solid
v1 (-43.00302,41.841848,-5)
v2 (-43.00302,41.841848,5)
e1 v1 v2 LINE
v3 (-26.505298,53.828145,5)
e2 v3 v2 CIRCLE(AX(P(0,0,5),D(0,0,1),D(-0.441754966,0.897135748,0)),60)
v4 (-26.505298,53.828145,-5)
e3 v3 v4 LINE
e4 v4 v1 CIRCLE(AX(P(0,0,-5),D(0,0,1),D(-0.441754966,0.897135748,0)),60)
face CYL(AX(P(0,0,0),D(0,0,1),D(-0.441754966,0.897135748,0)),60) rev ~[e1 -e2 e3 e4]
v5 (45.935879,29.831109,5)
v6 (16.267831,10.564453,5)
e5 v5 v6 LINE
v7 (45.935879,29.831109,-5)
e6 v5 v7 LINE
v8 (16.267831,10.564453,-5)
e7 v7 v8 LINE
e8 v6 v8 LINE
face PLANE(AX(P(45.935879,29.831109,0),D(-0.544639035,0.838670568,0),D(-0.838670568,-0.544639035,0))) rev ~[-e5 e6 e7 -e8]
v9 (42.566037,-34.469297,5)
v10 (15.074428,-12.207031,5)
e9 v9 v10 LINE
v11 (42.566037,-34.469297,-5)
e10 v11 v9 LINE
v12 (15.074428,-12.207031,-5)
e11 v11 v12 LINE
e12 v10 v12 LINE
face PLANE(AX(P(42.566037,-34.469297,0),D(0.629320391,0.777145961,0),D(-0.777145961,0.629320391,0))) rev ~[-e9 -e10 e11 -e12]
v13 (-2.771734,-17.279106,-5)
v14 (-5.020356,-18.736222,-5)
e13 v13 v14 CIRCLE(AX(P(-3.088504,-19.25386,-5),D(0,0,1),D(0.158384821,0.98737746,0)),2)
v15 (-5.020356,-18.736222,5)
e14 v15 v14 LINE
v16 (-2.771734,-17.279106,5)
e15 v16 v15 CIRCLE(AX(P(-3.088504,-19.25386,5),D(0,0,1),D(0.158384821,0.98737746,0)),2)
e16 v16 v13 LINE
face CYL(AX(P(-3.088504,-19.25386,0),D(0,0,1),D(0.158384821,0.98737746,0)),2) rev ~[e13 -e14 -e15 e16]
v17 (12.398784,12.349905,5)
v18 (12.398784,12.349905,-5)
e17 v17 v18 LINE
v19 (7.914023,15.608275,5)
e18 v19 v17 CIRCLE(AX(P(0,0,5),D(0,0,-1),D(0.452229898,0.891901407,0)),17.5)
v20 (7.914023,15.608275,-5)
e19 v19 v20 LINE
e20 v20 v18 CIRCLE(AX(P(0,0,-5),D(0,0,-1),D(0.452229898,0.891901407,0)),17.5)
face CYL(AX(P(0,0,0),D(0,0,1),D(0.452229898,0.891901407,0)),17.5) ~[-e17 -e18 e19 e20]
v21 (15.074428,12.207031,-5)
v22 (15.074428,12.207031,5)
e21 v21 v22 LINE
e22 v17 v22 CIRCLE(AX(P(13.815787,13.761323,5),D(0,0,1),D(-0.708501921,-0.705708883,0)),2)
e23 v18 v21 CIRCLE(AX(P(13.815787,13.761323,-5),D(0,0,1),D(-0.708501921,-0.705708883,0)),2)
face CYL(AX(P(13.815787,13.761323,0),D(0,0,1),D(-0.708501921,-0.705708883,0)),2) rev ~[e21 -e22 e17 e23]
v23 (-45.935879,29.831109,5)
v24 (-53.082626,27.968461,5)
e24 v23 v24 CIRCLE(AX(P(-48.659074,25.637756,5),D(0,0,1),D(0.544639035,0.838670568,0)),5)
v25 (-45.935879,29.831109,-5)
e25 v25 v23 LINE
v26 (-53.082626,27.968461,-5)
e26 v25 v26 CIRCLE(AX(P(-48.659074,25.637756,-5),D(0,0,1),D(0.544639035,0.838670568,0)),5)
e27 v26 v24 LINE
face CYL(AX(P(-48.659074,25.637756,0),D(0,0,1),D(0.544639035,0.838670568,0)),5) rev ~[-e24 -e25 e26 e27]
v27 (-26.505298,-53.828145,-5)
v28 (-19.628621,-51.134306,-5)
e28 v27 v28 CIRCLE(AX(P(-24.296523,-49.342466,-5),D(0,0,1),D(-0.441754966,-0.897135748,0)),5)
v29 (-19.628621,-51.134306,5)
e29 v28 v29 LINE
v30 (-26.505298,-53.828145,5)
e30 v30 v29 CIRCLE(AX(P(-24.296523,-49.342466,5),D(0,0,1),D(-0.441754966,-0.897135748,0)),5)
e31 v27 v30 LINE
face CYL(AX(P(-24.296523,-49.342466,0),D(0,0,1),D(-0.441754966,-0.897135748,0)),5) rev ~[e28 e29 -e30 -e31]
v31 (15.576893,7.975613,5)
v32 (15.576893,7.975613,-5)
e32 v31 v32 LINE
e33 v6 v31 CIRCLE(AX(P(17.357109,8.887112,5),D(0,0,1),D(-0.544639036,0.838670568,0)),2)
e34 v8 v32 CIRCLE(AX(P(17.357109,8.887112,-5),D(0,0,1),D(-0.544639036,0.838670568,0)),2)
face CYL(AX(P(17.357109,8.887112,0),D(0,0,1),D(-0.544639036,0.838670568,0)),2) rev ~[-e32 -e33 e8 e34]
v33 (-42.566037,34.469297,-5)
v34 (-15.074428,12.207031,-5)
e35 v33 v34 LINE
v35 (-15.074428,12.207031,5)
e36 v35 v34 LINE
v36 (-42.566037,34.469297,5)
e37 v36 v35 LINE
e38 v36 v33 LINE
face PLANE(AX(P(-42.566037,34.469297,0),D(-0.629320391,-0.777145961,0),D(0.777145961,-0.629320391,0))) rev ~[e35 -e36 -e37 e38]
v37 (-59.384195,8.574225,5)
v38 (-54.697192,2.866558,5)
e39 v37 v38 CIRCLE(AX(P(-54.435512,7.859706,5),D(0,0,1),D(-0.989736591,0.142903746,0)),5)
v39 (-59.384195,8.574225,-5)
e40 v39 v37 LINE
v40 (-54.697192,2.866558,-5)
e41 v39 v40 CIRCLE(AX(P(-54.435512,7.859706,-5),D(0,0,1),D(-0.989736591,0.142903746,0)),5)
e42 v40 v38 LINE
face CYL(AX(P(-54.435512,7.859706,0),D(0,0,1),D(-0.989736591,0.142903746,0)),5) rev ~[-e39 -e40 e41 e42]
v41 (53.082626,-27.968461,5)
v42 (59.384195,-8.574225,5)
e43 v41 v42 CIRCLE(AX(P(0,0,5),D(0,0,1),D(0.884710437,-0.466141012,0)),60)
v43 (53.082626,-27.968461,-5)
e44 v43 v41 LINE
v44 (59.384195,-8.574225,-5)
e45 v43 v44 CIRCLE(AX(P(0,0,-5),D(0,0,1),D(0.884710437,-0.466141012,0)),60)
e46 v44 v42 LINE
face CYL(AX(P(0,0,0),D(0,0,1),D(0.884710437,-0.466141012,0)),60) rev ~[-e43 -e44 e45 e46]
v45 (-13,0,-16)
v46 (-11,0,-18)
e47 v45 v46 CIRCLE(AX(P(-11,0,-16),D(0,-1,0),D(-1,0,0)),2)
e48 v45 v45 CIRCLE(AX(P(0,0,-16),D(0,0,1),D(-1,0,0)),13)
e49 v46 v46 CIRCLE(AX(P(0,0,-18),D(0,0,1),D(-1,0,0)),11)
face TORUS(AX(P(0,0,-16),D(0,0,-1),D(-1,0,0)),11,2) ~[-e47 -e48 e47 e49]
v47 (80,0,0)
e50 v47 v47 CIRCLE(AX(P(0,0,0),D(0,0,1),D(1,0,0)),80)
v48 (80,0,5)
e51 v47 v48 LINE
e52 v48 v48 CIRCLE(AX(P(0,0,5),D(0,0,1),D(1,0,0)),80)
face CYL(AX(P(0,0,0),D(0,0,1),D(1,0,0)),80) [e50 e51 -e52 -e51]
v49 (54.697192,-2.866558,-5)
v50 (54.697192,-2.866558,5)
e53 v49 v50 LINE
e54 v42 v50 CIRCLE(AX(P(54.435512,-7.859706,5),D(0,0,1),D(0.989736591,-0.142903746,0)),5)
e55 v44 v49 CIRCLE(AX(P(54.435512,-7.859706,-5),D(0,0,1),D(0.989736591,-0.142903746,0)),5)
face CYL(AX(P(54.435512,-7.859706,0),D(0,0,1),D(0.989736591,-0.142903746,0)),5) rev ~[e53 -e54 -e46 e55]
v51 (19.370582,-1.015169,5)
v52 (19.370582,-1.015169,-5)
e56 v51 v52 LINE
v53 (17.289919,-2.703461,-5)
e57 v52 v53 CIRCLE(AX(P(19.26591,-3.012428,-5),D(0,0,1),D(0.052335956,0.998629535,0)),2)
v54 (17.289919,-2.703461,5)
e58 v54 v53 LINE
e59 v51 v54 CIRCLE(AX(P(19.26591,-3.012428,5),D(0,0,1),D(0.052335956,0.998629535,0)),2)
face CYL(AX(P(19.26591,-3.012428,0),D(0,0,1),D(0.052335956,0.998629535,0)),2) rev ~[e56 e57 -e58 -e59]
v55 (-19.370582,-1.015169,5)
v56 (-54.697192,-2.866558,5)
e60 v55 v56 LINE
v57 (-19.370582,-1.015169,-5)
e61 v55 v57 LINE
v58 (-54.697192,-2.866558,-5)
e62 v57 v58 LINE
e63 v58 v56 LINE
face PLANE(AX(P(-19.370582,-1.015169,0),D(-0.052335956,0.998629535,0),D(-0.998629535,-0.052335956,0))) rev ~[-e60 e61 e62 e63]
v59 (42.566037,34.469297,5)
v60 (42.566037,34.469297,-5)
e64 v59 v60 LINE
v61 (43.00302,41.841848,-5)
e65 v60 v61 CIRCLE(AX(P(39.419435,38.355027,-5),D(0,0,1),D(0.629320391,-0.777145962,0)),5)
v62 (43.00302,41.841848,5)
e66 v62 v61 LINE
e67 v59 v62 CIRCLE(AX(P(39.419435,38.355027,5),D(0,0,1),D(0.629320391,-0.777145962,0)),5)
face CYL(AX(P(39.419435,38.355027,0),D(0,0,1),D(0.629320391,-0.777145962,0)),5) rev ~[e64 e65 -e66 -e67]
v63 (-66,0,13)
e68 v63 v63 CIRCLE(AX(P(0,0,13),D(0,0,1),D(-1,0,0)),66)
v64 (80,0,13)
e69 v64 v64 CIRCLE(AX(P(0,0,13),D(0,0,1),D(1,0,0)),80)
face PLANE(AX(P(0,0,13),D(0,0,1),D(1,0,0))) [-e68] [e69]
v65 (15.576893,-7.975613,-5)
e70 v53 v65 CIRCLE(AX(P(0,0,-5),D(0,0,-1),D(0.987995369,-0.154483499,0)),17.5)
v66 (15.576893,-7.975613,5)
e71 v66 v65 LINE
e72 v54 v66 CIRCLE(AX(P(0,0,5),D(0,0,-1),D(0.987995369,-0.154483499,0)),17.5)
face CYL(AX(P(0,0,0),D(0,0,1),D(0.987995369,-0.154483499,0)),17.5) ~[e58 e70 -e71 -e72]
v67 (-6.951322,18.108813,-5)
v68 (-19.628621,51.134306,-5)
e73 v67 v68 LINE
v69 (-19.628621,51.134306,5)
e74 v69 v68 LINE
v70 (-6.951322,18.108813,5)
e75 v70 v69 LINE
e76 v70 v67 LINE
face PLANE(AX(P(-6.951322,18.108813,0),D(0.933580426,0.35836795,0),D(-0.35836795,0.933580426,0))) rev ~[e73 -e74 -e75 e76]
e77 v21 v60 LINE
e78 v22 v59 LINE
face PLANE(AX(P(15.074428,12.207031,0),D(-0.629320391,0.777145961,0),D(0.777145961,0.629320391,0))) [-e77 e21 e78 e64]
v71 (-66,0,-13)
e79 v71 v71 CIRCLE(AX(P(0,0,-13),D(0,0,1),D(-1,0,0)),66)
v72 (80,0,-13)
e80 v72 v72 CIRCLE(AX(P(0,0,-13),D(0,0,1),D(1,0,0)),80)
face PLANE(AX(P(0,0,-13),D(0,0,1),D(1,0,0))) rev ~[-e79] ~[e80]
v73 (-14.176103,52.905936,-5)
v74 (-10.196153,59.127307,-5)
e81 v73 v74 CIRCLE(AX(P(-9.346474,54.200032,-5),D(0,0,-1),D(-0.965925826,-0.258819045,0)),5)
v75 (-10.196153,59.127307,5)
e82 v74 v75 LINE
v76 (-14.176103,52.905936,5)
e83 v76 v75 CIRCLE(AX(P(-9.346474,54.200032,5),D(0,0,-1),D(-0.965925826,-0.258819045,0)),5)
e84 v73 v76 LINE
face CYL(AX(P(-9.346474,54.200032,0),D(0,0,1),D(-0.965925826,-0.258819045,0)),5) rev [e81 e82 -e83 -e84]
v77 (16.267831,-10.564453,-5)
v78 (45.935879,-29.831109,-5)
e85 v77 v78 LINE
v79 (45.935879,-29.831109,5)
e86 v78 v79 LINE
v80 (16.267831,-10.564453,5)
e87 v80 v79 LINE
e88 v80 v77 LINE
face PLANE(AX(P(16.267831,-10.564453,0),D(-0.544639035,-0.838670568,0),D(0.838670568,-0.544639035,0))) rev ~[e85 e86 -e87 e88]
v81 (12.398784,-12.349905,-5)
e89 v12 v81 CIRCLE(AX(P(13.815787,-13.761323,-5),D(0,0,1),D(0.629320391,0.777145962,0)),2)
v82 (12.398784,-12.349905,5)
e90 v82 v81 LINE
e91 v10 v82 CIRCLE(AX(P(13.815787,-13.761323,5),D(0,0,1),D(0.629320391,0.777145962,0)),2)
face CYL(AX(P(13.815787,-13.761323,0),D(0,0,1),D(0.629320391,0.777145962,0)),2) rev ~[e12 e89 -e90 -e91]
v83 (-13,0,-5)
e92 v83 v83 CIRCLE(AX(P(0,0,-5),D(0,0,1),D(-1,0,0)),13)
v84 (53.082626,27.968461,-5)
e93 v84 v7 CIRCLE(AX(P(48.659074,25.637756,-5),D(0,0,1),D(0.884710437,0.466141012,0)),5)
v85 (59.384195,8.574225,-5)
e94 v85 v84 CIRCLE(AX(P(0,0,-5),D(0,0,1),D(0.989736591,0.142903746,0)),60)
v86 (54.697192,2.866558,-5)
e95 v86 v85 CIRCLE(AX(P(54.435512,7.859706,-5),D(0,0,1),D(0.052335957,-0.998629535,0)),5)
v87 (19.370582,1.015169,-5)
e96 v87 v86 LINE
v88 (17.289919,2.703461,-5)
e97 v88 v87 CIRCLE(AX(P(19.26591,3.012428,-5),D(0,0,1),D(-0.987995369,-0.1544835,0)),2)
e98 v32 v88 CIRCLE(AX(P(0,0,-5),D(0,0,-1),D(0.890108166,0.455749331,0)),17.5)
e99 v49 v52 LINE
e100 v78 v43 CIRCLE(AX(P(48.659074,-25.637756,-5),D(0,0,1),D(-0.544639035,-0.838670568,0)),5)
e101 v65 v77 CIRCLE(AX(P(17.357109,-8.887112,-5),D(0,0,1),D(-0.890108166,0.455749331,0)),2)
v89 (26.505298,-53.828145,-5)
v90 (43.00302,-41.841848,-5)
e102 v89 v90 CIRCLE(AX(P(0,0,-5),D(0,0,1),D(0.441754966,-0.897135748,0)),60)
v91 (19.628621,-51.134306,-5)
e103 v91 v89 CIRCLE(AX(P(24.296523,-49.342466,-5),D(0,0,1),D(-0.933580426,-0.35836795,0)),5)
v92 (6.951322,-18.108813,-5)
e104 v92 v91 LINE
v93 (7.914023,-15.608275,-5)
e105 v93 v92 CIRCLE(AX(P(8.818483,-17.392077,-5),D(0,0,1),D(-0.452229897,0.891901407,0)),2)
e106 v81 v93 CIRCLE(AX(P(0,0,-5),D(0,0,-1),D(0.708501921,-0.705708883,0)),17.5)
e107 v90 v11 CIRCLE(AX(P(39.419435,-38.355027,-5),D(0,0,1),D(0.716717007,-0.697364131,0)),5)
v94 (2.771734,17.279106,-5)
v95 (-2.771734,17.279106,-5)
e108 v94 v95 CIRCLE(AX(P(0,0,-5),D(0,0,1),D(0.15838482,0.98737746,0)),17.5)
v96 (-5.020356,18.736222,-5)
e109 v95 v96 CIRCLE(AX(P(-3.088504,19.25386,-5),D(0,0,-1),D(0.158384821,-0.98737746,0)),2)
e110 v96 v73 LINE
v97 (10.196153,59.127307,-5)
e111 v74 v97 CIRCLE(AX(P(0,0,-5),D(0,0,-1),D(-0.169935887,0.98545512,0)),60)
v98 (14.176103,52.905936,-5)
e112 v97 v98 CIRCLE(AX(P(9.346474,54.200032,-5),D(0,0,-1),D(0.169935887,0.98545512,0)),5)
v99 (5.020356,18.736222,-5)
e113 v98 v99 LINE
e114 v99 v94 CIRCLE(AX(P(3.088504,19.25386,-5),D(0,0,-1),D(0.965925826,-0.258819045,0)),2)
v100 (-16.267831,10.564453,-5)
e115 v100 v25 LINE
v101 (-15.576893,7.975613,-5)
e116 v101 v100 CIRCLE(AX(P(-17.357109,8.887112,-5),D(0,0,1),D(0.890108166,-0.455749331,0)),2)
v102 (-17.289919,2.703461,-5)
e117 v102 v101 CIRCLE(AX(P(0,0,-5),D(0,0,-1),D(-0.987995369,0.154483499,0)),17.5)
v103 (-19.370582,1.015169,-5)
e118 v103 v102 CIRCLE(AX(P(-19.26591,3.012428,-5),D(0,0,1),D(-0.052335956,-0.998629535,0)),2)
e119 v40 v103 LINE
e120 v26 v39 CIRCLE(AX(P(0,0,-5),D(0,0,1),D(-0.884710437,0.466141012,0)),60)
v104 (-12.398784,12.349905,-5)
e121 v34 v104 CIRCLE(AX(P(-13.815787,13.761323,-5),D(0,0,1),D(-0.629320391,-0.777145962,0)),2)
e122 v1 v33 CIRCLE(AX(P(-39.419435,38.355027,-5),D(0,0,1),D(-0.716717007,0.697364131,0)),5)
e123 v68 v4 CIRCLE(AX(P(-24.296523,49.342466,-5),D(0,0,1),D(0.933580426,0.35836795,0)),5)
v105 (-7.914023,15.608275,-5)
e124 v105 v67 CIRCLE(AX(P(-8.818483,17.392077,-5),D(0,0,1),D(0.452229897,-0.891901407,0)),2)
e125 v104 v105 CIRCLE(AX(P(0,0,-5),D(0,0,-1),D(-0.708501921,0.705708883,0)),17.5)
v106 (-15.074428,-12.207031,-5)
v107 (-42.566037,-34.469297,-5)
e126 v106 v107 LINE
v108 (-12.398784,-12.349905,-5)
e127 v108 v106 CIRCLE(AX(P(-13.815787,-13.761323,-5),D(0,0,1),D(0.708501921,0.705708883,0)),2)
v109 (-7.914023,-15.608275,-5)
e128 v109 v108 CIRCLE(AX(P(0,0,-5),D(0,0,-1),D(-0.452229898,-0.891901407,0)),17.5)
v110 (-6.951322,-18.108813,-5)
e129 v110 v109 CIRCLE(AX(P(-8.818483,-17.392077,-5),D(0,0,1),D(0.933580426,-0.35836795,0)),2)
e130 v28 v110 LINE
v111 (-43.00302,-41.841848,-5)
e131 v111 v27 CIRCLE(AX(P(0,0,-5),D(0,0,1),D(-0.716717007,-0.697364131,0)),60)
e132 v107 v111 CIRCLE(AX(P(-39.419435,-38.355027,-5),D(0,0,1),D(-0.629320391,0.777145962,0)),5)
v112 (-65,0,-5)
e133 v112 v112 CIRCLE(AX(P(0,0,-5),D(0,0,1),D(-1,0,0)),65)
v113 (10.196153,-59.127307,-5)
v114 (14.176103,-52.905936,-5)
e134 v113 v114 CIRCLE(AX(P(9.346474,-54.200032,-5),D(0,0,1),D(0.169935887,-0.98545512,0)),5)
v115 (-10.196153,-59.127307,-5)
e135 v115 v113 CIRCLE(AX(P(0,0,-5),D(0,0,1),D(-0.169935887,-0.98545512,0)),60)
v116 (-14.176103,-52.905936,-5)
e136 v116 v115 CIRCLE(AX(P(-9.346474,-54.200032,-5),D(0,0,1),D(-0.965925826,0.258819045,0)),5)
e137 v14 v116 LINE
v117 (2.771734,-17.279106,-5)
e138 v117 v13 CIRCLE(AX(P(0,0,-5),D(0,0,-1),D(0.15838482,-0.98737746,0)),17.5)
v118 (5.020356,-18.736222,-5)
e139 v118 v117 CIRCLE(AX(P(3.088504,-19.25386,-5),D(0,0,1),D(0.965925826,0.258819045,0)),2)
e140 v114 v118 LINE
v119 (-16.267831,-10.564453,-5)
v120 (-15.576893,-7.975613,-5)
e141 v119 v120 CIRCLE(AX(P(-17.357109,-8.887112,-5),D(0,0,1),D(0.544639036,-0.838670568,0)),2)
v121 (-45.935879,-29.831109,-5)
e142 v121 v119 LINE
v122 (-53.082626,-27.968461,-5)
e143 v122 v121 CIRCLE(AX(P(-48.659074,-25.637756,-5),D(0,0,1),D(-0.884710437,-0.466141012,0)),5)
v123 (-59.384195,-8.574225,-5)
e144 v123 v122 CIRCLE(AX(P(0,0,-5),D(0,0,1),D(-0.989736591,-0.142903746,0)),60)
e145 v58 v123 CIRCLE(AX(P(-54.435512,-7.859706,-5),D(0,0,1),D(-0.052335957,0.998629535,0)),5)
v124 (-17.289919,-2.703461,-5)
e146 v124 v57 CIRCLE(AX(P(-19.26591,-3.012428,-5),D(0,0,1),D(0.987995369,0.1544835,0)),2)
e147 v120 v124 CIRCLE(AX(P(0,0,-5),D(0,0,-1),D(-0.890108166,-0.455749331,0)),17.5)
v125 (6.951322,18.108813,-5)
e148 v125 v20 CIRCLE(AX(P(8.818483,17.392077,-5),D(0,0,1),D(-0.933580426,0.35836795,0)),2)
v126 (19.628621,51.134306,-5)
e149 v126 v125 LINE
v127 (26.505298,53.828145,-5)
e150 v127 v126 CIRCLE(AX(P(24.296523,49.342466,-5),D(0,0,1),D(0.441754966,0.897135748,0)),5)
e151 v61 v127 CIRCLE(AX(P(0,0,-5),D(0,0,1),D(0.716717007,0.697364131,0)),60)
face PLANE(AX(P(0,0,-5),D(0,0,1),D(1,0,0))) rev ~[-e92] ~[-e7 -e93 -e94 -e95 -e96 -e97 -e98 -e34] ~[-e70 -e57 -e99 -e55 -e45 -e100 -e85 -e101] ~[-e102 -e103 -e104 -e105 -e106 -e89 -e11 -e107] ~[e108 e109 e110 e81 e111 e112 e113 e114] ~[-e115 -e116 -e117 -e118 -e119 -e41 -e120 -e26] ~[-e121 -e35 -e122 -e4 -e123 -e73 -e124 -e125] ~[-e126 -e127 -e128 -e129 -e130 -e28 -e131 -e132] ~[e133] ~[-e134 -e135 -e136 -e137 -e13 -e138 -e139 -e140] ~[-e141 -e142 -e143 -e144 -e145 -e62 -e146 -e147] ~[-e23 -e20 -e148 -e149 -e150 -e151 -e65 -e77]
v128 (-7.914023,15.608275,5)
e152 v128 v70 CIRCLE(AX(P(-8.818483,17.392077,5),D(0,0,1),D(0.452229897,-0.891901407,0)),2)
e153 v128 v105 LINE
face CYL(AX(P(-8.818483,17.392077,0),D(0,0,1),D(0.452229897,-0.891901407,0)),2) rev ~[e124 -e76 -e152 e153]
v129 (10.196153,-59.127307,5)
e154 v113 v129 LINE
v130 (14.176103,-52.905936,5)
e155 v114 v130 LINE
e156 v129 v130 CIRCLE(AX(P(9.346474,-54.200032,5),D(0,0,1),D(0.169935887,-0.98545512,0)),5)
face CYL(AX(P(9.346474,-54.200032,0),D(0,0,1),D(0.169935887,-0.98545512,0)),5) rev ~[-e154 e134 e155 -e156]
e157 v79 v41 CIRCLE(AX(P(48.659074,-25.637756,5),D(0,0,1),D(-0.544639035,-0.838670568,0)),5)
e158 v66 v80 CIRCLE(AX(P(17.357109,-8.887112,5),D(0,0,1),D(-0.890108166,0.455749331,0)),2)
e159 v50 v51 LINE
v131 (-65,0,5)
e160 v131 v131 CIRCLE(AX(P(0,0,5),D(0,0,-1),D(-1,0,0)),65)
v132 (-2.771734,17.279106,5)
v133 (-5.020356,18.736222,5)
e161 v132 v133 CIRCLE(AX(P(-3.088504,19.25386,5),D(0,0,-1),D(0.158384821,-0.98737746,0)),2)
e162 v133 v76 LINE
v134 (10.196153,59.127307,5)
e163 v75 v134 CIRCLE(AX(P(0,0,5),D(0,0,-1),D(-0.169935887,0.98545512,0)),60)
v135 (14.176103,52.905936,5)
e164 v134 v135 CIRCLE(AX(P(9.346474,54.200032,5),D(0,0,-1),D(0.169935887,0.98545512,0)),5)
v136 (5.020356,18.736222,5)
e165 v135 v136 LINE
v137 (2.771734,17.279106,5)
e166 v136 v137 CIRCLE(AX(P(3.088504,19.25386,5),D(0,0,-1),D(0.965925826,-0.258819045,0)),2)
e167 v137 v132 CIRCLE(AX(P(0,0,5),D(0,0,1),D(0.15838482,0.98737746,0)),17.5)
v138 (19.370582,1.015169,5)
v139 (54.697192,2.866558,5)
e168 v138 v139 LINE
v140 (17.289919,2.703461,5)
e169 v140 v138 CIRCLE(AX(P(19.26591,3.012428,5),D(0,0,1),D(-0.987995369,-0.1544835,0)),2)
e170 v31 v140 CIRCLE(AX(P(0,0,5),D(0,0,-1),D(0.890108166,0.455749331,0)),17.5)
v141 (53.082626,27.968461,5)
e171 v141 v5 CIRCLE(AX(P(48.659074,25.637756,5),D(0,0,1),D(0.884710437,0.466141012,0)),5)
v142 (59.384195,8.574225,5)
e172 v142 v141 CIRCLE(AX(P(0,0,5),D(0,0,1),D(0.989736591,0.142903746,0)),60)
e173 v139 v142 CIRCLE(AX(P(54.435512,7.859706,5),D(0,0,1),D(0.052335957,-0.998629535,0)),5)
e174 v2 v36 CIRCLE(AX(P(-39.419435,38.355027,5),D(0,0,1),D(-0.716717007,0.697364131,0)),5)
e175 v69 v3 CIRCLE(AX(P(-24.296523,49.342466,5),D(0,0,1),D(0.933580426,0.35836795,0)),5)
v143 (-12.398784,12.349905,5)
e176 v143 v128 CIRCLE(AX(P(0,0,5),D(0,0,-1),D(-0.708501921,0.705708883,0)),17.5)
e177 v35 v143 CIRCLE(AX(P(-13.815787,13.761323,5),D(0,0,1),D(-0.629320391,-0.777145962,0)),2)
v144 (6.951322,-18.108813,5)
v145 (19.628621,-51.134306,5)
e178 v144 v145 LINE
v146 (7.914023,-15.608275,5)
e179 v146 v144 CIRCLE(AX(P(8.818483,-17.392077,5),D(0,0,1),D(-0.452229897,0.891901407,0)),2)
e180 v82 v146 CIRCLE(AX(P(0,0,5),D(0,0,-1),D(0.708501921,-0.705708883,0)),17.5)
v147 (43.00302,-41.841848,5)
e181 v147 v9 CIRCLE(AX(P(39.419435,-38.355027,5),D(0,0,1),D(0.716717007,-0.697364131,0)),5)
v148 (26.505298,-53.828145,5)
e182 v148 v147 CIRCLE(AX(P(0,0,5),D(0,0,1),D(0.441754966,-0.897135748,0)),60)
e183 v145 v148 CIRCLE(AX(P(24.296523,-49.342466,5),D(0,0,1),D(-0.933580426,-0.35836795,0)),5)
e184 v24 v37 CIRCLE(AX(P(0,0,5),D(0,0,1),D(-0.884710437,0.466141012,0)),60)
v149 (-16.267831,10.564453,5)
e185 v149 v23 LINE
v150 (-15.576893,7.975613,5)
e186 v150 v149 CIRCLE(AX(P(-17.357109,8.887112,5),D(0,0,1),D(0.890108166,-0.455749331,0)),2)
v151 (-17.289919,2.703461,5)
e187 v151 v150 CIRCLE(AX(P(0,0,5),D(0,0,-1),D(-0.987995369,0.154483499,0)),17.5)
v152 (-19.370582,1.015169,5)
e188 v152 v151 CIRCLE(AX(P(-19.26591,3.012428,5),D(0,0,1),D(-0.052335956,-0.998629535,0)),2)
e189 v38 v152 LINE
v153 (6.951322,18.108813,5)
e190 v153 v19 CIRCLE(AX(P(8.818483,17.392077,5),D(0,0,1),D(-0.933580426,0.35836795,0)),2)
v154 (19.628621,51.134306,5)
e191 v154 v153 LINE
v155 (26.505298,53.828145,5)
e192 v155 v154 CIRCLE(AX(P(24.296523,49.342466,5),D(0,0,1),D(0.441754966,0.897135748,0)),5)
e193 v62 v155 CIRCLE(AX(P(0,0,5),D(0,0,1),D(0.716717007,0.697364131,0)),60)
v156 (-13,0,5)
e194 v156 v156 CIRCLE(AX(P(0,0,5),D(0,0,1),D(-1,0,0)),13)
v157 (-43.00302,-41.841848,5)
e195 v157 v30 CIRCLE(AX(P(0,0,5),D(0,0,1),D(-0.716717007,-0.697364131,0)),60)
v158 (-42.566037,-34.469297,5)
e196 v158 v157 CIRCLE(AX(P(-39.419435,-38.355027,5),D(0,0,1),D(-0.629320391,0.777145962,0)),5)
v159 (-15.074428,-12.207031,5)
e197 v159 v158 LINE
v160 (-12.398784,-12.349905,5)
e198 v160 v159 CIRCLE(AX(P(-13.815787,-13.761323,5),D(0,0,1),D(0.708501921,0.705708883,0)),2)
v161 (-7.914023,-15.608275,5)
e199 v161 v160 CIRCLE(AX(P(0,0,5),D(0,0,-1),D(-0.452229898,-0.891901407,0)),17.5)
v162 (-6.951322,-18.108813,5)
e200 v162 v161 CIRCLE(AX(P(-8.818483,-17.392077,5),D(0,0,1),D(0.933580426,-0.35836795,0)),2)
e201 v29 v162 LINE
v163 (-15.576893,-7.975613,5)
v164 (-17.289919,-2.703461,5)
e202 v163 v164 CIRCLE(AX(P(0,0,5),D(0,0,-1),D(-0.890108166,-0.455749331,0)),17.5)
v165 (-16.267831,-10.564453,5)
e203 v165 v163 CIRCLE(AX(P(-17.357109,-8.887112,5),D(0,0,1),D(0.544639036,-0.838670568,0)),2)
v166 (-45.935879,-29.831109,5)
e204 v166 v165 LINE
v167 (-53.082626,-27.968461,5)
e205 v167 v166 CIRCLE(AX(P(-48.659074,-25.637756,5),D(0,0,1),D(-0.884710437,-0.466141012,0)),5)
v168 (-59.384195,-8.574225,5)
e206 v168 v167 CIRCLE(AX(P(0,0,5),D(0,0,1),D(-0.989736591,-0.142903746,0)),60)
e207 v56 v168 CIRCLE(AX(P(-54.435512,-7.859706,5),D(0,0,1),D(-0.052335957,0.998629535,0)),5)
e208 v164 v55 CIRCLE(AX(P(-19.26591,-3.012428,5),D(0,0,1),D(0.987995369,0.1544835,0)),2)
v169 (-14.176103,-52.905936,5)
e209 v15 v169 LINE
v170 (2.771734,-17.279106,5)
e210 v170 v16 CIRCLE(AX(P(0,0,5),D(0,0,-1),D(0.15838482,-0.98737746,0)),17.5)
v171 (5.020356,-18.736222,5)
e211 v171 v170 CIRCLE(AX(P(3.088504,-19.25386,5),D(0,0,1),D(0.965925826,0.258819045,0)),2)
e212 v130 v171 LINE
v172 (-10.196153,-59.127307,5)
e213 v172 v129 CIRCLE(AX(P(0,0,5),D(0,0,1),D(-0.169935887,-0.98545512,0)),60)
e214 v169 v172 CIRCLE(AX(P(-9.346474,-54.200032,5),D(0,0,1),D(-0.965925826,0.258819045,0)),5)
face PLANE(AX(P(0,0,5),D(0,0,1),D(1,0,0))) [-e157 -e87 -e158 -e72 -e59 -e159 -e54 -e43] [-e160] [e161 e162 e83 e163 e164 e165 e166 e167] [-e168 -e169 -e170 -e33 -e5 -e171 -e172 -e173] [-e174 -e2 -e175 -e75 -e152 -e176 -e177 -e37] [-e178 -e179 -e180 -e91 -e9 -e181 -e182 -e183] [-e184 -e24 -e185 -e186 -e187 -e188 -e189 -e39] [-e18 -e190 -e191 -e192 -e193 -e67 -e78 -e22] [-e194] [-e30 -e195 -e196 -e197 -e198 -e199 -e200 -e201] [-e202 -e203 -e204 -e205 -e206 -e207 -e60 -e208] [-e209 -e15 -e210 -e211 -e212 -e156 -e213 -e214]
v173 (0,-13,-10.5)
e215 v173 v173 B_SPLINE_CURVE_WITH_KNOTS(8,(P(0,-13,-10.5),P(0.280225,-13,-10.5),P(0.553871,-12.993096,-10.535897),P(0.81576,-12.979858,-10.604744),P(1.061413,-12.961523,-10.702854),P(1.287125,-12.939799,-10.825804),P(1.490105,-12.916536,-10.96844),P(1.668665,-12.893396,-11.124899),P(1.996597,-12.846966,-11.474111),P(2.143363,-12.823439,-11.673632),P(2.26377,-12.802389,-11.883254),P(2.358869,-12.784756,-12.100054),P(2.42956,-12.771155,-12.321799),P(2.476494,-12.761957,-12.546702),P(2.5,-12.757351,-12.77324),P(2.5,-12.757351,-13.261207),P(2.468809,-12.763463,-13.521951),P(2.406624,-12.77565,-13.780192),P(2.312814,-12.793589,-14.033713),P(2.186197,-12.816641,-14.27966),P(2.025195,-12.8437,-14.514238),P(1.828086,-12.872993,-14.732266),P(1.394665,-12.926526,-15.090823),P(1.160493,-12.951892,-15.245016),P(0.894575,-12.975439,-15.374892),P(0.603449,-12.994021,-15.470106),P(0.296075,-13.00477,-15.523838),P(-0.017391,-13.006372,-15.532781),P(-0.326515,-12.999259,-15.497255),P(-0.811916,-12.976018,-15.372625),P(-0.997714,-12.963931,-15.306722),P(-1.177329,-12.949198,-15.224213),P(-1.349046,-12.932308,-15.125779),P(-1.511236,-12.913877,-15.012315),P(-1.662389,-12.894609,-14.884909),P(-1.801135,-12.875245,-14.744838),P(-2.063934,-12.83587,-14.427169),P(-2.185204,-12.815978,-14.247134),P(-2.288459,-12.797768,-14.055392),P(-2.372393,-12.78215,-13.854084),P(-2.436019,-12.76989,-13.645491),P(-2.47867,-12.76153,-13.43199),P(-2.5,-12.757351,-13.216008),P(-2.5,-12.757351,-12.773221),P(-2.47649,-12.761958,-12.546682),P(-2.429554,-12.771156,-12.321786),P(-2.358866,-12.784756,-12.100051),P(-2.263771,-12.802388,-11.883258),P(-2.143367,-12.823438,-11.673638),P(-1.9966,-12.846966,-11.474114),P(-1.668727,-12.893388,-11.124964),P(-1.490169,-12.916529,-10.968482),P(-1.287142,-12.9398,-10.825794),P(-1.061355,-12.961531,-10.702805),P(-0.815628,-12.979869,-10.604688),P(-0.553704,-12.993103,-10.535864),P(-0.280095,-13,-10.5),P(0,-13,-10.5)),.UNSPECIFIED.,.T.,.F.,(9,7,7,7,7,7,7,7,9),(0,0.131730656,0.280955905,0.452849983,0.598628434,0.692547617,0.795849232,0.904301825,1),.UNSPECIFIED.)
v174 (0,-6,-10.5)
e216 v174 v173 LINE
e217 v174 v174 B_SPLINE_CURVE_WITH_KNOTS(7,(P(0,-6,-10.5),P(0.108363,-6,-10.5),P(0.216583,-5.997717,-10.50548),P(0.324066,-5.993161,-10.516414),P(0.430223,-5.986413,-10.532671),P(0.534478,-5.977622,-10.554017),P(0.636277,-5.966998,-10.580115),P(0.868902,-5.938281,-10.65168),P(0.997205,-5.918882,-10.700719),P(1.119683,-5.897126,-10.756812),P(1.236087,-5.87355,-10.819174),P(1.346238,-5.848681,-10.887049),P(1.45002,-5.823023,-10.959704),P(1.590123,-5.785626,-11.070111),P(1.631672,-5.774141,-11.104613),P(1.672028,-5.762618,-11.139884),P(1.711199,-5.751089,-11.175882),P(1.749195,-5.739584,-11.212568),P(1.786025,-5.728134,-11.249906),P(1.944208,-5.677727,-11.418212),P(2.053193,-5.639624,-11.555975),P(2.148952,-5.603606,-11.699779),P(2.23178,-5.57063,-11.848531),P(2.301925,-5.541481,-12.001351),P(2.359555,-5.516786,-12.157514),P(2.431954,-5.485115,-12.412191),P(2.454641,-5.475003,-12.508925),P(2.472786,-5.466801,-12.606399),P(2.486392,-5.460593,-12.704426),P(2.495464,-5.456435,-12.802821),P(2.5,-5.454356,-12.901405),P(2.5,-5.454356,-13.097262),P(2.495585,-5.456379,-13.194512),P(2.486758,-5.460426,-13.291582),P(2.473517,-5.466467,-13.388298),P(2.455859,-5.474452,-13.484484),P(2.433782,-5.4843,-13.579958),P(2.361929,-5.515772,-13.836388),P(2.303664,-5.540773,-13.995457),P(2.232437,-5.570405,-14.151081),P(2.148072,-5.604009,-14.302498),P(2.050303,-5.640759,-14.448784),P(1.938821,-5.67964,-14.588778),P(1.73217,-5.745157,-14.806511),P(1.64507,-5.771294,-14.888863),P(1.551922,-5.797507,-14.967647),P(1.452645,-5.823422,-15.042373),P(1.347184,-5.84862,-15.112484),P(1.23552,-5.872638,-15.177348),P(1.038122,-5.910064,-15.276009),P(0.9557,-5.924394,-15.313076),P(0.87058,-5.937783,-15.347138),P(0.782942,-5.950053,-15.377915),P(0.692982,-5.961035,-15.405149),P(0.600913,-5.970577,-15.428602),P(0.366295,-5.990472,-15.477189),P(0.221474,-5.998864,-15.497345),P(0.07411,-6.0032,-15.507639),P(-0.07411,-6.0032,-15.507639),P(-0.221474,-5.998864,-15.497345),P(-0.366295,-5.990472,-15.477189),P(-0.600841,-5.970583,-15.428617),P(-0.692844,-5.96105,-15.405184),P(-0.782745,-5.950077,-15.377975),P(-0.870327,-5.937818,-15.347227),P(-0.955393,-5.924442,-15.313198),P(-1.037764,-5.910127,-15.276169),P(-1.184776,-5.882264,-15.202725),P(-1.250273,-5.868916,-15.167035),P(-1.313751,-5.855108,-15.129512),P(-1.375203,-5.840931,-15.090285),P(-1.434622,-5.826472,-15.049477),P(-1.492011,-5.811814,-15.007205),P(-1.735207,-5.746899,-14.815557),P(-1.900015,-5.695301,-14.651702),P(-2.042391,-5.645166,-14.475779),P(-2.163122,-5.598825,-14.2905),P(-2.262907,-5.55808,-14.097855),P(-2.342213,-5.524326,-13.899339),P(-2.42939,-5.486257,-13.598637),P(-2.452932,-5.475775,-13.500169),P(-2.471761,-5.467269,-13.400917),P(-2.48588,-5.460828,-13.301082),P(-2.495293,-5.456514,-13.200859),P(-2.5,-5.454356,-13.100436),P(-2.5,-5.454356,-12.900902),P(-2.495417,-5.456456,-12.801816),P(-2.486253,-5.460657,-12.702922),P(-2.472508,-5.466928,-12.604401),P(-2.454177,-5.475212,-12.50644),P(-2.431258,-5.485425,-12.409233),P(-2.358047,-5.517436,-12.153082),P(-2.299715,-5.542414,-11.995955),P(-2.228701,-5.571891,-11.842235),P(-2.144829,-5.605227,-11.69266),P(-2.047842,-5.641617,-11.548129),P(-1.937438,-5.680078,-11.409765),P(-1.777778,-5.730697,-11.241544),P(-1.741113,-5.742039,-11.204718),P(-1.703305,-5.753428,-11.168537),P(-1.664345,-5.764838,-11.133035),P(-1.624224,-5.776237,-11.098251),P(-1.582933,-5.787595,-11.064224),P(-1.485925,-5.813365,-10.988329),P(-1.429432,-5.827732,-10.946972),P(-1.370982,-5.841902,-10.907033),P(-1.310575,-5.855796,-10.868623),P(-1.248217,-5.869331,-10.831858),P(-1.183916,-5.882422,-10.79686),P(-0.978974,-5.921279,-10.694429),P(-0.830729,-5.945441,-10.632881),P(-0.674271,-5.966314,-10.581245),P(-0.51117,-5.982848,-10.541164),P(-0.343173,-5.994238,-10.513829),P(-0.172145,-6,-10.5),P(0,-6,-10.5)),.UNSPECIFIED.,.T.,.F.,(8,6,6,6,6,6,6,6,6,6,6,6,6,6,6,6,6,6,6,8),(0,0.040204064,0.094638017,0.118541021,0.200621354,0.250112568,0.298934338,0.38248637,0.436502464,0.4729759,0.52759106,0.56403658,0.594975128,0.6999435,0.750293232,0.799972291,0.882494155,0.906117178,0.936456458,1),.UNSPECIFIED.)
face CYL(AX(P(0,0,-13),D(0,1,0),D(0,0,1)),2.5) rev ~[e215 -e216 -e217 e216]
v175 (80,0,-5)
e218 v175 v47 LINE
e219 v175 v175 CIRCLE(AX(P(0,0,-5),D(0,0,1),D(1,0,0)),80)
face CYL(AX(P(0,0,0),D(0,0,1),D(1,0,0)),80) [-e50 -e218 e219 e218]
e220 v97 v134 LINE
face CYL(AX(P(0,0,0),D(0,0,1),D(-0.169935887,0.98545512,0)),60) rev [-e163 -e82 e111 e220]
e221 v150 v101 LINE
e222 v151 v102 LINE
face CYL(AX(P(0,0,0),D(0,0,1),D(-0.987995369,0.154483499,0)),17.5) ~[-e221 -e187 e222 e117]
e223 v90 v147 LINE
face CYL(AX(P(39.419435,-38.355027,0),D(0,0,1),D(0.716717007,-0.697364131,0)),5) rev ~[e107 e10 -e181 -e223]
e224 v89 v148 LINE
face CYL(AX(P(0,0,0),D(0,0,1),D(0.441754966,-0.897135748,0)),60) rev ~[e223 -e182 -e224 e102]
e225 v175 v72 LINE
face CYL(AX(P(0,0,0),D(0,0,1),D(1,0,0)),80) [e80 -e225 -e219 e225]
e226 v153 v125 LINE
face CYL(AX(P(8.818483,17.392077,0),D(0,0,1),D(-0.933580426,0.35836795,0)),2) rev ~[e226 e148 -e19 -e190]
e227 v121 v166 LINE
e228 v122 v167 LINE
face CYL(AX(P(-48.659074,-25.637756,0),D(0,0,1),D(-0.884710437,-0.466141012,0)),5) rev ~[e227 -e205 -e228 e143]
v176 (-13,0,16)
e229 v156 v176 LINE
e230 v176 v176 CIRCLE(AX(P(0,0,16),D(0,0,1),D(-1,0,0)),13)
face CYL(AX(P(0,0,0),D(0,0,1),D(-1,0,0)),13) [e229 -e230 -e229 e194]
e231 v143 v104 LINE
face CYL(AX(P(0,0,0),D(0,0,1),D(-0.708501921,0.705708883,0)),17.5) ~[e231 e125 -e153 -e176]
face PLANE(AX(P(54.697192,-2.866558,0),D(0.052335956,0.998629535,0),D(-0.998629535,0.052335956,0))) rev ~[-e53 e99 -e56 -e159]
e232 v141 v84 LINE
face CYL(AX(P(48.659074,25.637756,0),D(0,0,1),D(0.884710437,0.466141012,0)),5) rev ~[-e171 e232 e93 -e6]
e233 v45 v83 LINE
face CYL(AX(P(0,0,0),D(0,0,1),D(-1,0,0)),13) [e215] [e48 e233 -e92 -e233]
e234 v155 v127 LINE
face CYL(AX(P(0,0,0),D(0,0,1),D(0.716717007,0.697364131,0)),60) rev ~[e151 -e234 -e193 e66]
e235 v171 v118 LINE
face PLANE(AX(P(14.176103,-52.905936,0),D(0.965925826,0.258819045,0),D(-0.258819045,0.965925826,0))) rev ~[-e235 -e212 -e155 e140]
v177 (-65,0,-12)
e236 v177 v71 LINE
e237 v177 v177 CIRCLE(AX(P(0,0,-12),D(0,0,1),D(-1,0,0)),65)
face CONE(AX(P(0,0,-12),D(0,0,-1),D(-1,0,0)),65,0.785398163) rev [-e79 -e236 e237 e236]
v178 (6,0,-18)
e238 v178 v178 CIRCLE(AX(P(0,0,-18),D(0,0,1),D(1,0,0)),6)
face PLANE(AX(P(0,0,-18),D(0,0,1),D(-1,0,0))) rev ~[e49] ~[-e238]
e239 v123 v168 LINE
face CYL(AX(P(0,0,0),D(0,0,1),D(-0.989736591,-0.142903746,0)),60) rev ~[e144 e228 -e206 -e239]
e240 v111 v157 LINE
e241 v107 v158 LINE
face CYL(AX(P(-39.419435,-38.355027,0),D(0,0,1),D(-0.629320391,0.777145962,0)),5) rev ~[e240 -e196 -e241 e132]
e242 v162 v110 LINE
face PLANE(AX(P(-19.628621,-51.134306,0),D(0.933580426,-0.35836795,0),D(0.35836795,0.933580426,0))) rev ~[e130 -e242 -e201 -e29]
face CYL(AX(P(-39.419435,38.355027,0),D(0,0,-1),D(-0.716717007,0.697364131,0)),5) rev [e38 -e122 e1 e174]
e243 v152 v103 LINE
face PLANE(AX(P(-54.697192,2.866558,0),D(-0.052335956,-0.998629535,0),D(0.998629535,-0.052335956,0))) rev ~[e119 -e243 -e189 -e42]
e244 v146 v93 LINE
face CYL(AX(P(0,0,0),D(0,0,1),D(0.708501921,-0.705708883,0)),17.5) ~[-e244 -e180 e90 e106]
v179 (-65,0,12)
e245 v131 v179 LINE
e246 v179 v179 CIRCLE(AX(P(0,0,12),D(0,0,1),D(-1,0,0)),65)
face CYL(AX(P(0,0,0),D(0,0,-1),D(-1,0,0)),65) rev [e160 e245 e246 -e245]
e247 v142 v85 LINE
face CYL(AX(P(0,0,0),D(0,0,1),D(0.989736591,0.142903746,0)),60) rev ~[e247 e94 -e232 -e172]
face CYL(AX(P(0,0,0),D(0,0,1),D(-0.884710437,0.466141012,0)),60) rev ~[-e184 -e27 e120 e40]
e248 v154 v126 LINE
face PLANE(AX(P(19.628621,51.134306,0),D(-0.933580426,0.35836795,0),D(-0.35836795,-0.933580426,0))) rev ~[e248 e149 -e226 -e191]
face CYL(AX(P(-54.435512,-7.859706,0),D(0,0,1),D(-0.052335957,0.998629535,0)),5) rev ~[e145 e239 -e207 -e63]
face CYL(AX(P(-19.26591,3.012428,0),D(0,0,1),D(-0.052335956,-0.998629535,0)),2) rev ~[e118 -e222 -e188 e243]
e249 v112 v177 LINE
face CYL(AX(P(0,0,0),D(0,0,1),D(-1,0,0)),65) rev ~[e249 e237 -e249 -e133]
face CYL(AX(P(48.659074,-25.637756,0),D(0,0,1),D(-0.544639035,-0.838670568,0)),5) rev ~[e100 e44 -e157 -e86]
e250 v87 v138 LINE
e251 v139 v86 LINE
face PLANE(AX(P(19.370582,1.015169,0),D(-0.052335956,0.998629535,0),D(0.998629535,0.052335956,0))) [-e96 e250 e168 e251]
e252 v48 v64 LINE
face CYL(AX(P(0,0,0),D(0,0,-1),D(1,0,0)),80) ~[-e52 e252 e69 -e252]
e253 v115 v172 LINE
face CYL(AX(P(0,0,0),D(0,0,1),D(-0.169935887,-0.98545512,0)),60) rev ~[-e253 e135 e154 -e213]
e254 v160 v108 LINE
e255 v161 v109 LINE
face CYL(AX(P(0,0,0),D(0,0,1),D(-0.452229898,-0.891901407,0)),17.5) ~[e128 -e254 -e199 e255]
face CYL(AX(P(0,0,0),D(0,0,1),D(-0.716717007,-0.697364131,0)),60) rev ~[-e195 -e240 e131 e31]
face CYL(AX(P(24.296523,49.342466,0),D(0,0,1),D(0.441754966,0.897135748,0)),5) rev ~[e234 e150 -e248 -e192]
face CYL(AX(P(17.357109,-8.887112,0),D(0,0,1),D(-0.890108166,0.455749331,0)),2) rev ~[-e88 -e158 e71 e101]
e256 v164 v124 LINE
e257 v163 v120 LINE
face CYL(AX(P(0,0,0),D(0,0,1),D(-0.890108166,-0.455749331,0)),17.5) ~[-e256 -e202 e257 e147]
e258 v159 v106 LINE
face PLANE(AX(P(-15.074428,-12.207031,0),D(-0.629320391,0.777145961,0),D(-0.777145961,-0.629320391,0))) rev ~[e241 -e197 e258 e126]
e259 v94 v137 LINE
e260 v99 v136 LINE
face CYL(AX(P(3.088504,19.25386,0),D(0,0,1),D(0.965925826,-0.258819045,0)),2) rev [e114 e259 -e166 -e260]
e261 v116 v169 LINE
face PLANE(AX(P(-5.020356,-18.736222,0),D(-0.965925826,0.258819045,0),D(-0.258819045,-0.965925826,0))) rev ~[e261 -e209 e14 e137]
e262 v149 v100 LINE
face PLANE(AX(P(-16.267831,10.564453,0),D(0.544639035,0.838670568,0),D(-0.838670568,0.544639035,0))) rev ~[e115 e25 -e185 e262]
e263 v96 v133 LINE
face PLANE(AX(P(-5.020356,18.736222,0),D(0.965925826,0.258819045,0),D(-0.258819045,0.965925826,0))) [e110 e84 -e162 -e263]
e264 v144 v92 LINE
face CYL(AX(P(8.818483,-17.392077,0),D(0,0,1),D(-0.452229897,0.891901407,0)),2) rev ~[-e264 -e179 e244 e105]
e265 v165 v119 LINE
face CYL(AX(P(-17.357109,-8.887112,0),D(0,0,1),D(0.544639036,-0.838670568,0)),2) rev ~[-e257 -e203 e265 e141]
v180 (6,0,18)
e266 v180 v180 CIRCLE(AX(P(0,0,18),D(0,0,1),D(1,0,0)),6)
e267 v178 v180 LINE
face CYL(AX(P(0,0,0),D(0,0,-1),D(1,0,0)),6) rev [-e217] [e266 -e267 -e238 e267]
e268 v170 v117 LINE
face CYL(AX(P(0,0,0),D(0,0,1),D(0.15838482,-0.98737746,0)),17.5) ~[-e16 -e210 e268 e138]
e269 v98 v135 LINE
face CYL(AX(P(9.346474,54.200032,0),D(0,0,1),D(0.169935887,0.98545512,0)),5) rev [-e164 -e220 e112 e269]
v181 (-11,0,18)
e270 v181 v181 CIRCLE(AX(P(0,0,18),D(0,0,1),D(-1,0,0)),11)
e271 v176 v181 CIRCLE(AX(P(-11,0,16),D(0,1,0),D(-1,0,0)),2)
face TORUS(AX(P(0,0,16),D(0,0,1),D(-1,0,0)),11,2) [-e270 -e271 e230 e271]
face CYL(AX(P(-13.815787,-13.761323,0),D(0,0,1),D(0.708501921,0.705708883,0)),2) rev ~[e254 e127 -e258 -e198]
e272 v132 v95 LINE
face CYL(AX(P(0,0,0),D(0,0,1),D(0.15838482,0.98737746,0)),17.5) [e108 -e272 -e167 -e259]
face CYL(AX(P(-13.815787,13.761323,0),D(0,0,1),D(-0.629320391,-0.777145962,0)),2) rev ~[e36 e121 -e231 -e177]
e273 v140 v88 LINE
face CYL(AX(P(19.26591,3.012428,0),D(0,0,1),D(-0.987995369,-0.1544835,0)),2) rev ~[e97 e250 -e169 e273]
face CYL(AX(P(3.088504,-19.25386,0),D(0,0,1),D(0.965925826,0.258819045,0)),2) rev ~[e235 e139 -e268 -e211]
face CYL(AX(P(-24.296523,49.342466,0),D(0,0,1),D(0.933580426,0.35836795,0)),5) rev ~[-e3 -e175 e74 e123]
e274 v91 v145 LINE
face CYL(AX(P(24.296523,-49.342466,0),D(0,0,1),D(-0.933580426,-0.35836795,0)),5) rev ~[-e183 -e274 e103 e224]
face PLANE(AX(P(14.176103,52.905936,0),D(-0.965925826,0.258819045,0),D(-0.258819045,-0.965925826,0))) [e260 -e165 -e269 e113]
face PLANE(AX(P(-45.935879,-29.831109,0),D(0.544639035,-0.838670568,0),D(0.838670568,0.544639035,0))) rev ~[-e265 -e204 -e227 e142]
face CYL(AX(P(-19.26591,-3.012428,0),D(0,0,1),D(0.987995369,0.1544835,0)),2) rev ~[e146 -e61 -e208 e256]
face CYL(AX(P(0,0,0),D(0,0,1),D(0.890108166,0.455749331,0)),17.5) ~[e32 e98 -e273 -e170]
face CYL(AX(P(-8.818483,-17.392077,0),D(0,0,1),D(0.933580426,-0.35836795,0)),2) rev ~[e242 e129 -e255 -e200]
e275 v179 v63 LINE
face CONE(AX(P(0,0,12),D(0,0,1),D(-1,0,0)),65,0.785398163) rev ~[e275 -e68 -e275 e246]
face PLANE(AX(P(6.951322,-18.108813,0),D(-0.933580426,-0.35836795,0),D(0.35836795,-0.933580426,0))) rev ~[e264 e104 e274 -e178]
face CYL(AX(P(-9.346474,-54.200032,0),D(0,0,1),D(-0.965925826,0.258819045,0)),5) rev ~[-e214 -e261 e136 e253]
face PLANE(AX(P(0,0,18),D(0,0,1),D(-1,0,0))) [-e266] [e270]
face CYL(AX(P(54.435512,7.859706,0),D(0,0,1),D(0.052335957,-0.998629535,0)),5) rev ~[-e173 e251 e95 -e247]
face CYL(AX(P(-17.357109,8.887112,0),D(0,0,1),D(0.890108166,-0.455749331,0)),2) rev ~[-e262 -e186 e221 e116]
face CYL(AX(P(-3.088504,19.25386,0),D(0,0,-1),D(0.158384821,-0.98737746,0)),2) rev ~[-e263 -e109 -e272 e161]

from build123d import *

# Parameters (mm, degrees)
SKETCH1_R               = 80
SKETCH1_R_2             = 6
BOSS_EXTRUDE1_DEPTH     = 5
SKETCH3_R               = 80
SKETCH3_R_2             = 65
SKETCH3_R_3             = 13
SKETCH3_R_4             = 6
BOSS_EXTRUDE2_DEPTH     = 13
SKETCH5_R               = 13
SKETCH5_R_2             = 6
BOSS_EXTRUDE3_DEPTH     = 18
CUT_EXTRUDE1_REACH      = 116.56
CUT_EXTRUDE1_END_RADIUS = 13
SKETCH6_R               = 2.5
CHAMFER1_SIZE           = 1
FILLET1_R               = 2


with BuildPart() as part:
    # Sketch1 → Boss-Extrude1 (new, symmetric)
    with BuildSketch(Plane.XY):
        Circle(SKETCH1_R)
        Circle(SKETCH1_R_2, mode=Mode.SUBTRACT)
        with BuildLine():
            Line((14.176102931, 52.905936394), (5.020355656, 18.73622238))
            ThreePointArc((5.020355656, 18.73622238), (4.176125187, 17.575444503), (2.771734362, 17.279105551))
            ThreePointArc((2.771734362, 17.279105551), (0, 17.5), (-2.771734362, 17.279105551))
            ThreePointArc((-2.771734362, 17.279105551), (-4.176125187, 17.575444503), (-5.020355656, 18.73622238))
            Line((-5.020355656, 18.73622238), (-14.176102931, 52.905936394))
            ThreePointArc((-14.176102931, 52.905936394), (-13.558361761, 56.8944703), (-10.196153236, 59.127307221))
            ThreePointArc((-10.196153236, 59.127307221), (0, 60), (10.196153236, 59.127307221))
            ThreePointArc((10.196153236, 59.127307221), (13.558361761, 56.8944703), (14.176102931, 52.905936394))
        make_face(mode=Mode.SUBTRACT)
        with BuildLine():
            Line((19.628620985, 51.134305884), (6.951322155, 18.108813332))
            ThreePointArc((6.951322155, 18.108813332), (6.952030834, 16.673498083), (7.914023213, 15.608274619))
            ThreePointArc((7.914023213, 15.608274619), (10.286241915, 14.157797402), (12.398783618, 12.349905457))
            ThreePointArc((12.398783618, 12.349905457), (13.709143329, 11.76416849), (15.074428242, 12.2070313))
            Line((15.074428242, 12.2070313), (42.566037356, 34.469297408))
            ThreePointArc((42.566037356, 34.469297408), (44.41067566, 38.05918827), (43.003020438, 41.841847871))
            ThreePointArc((43.003020438, 41.841847871), (35.267115138, 48.541019662), (26.505297947, 53.828144876))
            ThreePointArc((26.505297947, 53.828144876), (22.472785499, 53.997998447), (19.628620985, 51.134305884))
        make_face(mode=Mode.SUBTRACT)
        with BuildLine():
            Line((45.935878838, 29.831108518), (16.26783117, 10.564453087))
            ThreePointArc((16.26783117, 10.564453087), (15.424747368, 9.402842107), (15.576892908, 7.975613289))
            ThreePointArc((15.576892908, 7.975613289), (16.643489035, 5.407797402), (17.289918951, 2.703461236))
            ThreePointArc((17.289918951, 2.703461236), (18.005734675, 1.459379963), (19.370581601, 1.015169165))
            Line((19.370581601, 1.015169165), (54.697192278, 2.86655838))
            ThreePointArc((54.697192278, 2.86655838), (58.29962092, 4.686589906), (59.384195451, 8.574224786))
            ThreePointArc((59.384195451, 8.574224786), (57.063390978, 18.541019662), (53.082626196, 27.968460739))
            ThreePointArc((53.082626196, 27.968460739), (49.92009252, 30.476126512), (45.935878838, 29.831108518))
        make_face(mode=Mode.SUBTRACT)
        with BuildLine():
            Line((54.697192278, -2.86655838), (19.370581601, -1.015169165))
            ThreePointArc((19.370581601, -1.015169165), (18.005734675, -1.459379963), (17.289918951, -2.703461236))
            ThreePointArc((17.289918951, -2.703461236), (16.643489035, -5.407797402), (15.576892908, -7.975613289))
            ThreePointArc((15.576892908, -7.975613289), (15.424747368, -9.402842107), (16.26783117, -10.564453087))
            Line((16.26783117, -10.564453087), (45.935878838, -29.831108518))
            ThreePointArc((45.935878838, -29.831108518), (49.92009252, -30.476126512), (53.082626196, -27.968460739))
            ThreePointArc((53.082626196, -27.968460739), (57.063390978, -18.541019662), (59.384195451, -8.574224786))
            ThreePointArc((59.384195451, -8.574224786), (58.29962092, -4.686589906), (54.697192278, -2.86655838))
        make_face(mode=Mode.SUBTRACT)
        with BuildLine():
            Line((42.566037356, -34.469297408), (15.074428242, -12.2070313))
            ThreePointArc((15.074428242, -12.2070313), (13.709143329, -11.76416849), (12.398783618, -12.349905457))
            ThreePointArc((12.398783618, -12.349905457), (10.286241915, -14.157797402), (7.914023213, -15.608274619))
            ThreePointArc((7.914023213, -15.608274619), (6.952030834, -16.673498083), (6.951322155, -18.108813332))
            Line((6.951322155, -18.108813332), (19.628620985, -51.134305884))
            ThreePointArc((19.628620985, -51.134305884), (22.472785499, -53.997998447), (26.505297947, -53.828144876))
            ThreePointArc((26.505297947, -53.828144876), (35.267115138, -48.541019662), (43.003020438, -41.841847871))
            ThreePointArc((43.003020438, -41.841847871), (44.41067566, -38.05918827), (42.566037356, -34.469297408))
        make_face(mode=Mode.SUBTRACT)
        with BuildLine():
            Line((14.176102931, -52.905936394), (5.020355656, -18.73622238))
            ThreePointArc((5.020355656, -18.73622238), (4.176125187, -17.575444503), (2.771734362, -17.279105551))
            ThreePointArc((2.771734362, -17.279105551), (0, -17.5), (-2.771734362, -17.279105551))
            ThreePointArc((-2.771734362, -17.279105551), (-4.176125187, -17.575444503), (-5.020355656, -18.73622238))
            Line((-5.020355656, -18.73622238), (-14.176102931, -52.905936394))
            ThreePointArc((-14.176102931, -52.905936394), (-13.558361761, -56.8944703), (-10.196153236, -59.127307221))
            ThreePointArc((-10.196153236, -59.127307221), (0, -60), (10.196153236, -59.127307221))
            ThreePointArc((10.196153236, -59.127307221), (13.558361761, -56.8944703), (14.176102931, -52.905936394))
        make_face(mode=Mode.SUBTRACT)
        with BuildLine():
            Line((-19.628620985, -51.134305884), (-6.951322155, -18.108813332))
            ThreePointArc((-6.951322155, -18.108813332), (-6.952030834, -16.673498083), (-7.914023213, -15.608274619))
            ThreePointArc((-7.914023213, -15.608274619), (-10.286241915, -14.157797402), (-12.398783618, -12.349905457))
            ThreePointArc((-12.398783618, -12.349905457), (-13.709143329, -11.76416849), (-15.074428242, -12.2070313))
            Line((-15.074428242, -12.2070313), (-42.566037356, -34.469297408))
            ThreePointArc((-42.566037356, -34.469297408), (-44.41067566, -38.05918827), (-43.003020438, -41.841847871))
            ThreePointArc((-43.003020438, -41.841847871), (-35.267115138, -48.541019662), (-26.505297947, -53.828144876))
            ThreePointArc((-26.505297947, -53.828144876), (-22.472785499, -53.997998447), (-19.628620985, -51.134305884))
        make_face(mode=Mode.SUBTRACT)
        with BuildLine():
            Line((-45.935878838, -29.831108518), (-16.26783117, -10.564453087))
            ThreePointArc((-16.26783117, -10.564453087), (-15.424747368, -9.402842107), (-15.576892908, -7.975613289))
            ThreePointArc((-15.576892908, -7.975613289), (-16.643489035, -5.407797402), (-17.289918951, -2.703461236))
            ThreePointArc((-17.289918951, -2.703461236), (-18.005734675, -1.459379963), (-19.370581601, -1.015169165))
            Line((-19.370581601, -1.015169165), (-54.697192278, -2.86655838))
            ThreePointArc((-54.697192278, -2.86655838), (-58.29962092, -4.686589906), (-59.384195451, -8.574224786))
            ThreePointArc((-59.384195451, -8.574224786), (-57.063390978, -18.541019662), (-53.082626196, -27.968460739))
            ThreePointArc((-53.082626196, -27.968460739), (-49.92009252, -30.476126512), (-45.935878838, -29.831108518))
        make_face(mode=Mode.SUBTRACT)
        with BuildLine():
            Line((-54.697192278, 2.86655838), (-19.370581601, 1.015169165))
            ThreePointArc((-19.370581601, 1.015169165), (-18.005734675, 1.459379963), (-17.289918951, 2.703461236))
            ThreePointArc((-17.289918951, 2.703461236), (-16.643489035, 5.407797402), (-15.576892908, 7.975613289))
            ThreePointArc((-15.576892908, 7.975613289), (-15.424747368, 9.402842107), (-16.26783117, 10.564453087))
            Line((-16.26783117, 10.564453087), (-45.935878838, 29.831108518))
            ThreePointArc((-45.935878838, 29.831108518), (-49.92009252, 30.476126512), (-53.082626196, 27.968460739))
            ThreePointArc((-53.082626196, 27.968460739), (-57.063390978, 18.541019662), (-59.384195451, 8.574224786))
            ThreePointArc((-59.384195451, 8.574224786), (-58.29962092, 4.686589906), (-54.697192278, 2.86655838))
        make_face(mode=Mode.SUBTRACT)
        with BuildLine():
            Line((-42.566037356, 34.469297408), (-15.074428242, 12.2070313))
            ThreePointArc((-15.074428242, 12.2070313), (-13.709143329, 11.76416849), (-12.398783618, 12.349905457))
            ThreePointArc((-12.398783618, 12.349905457), (-10.286241915, 14.157797402), (-7.914023213, 15.608274619))
            ThreePointArc((-7.914023213, 15.608274619), (-6.952030834, 16.673498083), (-6.951322155, 18.108813332))
            Line((-6.951322155, 18.108813332), (-19.628620985, 51.134305884))
            ThreePointArc((-19.628620985, 51.134305884), (-22.472785499, 53.997998447), (-26.505297947, 53.828144876))
            ThreePointArc((-26.505297947, 53.828144876), (-35.267115138, 48.541019662), (-43.003020438, 41.841847871))
            ThreePointArc((-43.003020438, 41.841847871), (-44.41067566, 38.05918827), (-42.566037356, 34.469297408))
        make_face(mode=Mode.SUBTRACT)
    extrude(amount=BOSS_EXTRUDE1_DEPTH, both=True)

    # Sketch3 → Boss-Extrude2 (add, symmetric)
    # profile 1 of 2: a face of its own
    with BuildSketch(Plane.XY):
        Circle(SKETCH3_R)
        with Locations(Location((0, 0, 0), (0, 0, 180))):
            Circle(SKETCH3_R_2, mode=Mode.SUBTRACT)
    # profile 2 of 2: a face of its own
    with BuildSketch(Plane.XY):
        with Locations(Location((0, 0, 0), (0, 0, 180))):
            Circle(SKETCH3_R_3)
        Circle(SKETCH3_R_4, mode=Mode.SUBTRACT)
    extrude(amount=BOSS_EXTRUDE2_DEPTH, both=True)

    # Sketch5 → Boss-Extrude3 (add, symmetric)
    with BuildSketch(Plane.XY):
        with Locations(Location((0, 0, 0), (0, 0, 180))):
            Circle(SKETCH5_R)
        Circle(SKETCH5_R_2, mode=Mode.SUBTRACT)
    extrude(amount=BOSS_EXTRUDE3_DEPTH, both=True)

    # Cut-Extrude1: up to this cylinder (the profile starts inside it)
    cut_extrude1_end = Plane(origin=(0, 0, -13), z_dir=(0, 0, -1)) * Cylinder(CUT_EXTRUDE1_END_RADIUS, 260.12, mode=Mode.PRIVATE)
    # Sketch6 → Cut-Extrude1 (cut, up to the surface)
    with BuildSketch(Plane(origin=(0, 0, 0), x_dir=(1, 0, 0), z_dir=(0, 1, 0)), mode=Mode.PRIVATE) as cut_extrude1_sk1:
        with Locations(Location((0, 13, 0), (0, 0, 270))):
            Circle(SKETCH6_R)
    cut_extrude1_tool1 = extrude(cut_extrude1_sk1.sketch, amount=-CUT_EXTRUDE1_REACH, mode=Mode.PRIVATE) & cut_extrude1_end
    add(cut_extrude1_tool1.solids().sort_by_distance((0, 0, -13))[0], mode=Mode.SUBTRACT)

    # Chamfer1
    chamfer1_edges = [part.edges().sort_by_distance(p)[0] for p in [
        (65, 0, 13),
        (65, 0, -13),
    ]]
    chamfer(chamfer1_edges, length=CHAMFER1_SIZE)

    # Fillet1
    fillet1_edges = [part.edges().sort_by_distance(p)[0] for p in [
        (13, 0, -18),
        (13, 0, 18),
    ]]
    fillet(fillet1_edges, radius=FILLET1_R)


solid = part.part
